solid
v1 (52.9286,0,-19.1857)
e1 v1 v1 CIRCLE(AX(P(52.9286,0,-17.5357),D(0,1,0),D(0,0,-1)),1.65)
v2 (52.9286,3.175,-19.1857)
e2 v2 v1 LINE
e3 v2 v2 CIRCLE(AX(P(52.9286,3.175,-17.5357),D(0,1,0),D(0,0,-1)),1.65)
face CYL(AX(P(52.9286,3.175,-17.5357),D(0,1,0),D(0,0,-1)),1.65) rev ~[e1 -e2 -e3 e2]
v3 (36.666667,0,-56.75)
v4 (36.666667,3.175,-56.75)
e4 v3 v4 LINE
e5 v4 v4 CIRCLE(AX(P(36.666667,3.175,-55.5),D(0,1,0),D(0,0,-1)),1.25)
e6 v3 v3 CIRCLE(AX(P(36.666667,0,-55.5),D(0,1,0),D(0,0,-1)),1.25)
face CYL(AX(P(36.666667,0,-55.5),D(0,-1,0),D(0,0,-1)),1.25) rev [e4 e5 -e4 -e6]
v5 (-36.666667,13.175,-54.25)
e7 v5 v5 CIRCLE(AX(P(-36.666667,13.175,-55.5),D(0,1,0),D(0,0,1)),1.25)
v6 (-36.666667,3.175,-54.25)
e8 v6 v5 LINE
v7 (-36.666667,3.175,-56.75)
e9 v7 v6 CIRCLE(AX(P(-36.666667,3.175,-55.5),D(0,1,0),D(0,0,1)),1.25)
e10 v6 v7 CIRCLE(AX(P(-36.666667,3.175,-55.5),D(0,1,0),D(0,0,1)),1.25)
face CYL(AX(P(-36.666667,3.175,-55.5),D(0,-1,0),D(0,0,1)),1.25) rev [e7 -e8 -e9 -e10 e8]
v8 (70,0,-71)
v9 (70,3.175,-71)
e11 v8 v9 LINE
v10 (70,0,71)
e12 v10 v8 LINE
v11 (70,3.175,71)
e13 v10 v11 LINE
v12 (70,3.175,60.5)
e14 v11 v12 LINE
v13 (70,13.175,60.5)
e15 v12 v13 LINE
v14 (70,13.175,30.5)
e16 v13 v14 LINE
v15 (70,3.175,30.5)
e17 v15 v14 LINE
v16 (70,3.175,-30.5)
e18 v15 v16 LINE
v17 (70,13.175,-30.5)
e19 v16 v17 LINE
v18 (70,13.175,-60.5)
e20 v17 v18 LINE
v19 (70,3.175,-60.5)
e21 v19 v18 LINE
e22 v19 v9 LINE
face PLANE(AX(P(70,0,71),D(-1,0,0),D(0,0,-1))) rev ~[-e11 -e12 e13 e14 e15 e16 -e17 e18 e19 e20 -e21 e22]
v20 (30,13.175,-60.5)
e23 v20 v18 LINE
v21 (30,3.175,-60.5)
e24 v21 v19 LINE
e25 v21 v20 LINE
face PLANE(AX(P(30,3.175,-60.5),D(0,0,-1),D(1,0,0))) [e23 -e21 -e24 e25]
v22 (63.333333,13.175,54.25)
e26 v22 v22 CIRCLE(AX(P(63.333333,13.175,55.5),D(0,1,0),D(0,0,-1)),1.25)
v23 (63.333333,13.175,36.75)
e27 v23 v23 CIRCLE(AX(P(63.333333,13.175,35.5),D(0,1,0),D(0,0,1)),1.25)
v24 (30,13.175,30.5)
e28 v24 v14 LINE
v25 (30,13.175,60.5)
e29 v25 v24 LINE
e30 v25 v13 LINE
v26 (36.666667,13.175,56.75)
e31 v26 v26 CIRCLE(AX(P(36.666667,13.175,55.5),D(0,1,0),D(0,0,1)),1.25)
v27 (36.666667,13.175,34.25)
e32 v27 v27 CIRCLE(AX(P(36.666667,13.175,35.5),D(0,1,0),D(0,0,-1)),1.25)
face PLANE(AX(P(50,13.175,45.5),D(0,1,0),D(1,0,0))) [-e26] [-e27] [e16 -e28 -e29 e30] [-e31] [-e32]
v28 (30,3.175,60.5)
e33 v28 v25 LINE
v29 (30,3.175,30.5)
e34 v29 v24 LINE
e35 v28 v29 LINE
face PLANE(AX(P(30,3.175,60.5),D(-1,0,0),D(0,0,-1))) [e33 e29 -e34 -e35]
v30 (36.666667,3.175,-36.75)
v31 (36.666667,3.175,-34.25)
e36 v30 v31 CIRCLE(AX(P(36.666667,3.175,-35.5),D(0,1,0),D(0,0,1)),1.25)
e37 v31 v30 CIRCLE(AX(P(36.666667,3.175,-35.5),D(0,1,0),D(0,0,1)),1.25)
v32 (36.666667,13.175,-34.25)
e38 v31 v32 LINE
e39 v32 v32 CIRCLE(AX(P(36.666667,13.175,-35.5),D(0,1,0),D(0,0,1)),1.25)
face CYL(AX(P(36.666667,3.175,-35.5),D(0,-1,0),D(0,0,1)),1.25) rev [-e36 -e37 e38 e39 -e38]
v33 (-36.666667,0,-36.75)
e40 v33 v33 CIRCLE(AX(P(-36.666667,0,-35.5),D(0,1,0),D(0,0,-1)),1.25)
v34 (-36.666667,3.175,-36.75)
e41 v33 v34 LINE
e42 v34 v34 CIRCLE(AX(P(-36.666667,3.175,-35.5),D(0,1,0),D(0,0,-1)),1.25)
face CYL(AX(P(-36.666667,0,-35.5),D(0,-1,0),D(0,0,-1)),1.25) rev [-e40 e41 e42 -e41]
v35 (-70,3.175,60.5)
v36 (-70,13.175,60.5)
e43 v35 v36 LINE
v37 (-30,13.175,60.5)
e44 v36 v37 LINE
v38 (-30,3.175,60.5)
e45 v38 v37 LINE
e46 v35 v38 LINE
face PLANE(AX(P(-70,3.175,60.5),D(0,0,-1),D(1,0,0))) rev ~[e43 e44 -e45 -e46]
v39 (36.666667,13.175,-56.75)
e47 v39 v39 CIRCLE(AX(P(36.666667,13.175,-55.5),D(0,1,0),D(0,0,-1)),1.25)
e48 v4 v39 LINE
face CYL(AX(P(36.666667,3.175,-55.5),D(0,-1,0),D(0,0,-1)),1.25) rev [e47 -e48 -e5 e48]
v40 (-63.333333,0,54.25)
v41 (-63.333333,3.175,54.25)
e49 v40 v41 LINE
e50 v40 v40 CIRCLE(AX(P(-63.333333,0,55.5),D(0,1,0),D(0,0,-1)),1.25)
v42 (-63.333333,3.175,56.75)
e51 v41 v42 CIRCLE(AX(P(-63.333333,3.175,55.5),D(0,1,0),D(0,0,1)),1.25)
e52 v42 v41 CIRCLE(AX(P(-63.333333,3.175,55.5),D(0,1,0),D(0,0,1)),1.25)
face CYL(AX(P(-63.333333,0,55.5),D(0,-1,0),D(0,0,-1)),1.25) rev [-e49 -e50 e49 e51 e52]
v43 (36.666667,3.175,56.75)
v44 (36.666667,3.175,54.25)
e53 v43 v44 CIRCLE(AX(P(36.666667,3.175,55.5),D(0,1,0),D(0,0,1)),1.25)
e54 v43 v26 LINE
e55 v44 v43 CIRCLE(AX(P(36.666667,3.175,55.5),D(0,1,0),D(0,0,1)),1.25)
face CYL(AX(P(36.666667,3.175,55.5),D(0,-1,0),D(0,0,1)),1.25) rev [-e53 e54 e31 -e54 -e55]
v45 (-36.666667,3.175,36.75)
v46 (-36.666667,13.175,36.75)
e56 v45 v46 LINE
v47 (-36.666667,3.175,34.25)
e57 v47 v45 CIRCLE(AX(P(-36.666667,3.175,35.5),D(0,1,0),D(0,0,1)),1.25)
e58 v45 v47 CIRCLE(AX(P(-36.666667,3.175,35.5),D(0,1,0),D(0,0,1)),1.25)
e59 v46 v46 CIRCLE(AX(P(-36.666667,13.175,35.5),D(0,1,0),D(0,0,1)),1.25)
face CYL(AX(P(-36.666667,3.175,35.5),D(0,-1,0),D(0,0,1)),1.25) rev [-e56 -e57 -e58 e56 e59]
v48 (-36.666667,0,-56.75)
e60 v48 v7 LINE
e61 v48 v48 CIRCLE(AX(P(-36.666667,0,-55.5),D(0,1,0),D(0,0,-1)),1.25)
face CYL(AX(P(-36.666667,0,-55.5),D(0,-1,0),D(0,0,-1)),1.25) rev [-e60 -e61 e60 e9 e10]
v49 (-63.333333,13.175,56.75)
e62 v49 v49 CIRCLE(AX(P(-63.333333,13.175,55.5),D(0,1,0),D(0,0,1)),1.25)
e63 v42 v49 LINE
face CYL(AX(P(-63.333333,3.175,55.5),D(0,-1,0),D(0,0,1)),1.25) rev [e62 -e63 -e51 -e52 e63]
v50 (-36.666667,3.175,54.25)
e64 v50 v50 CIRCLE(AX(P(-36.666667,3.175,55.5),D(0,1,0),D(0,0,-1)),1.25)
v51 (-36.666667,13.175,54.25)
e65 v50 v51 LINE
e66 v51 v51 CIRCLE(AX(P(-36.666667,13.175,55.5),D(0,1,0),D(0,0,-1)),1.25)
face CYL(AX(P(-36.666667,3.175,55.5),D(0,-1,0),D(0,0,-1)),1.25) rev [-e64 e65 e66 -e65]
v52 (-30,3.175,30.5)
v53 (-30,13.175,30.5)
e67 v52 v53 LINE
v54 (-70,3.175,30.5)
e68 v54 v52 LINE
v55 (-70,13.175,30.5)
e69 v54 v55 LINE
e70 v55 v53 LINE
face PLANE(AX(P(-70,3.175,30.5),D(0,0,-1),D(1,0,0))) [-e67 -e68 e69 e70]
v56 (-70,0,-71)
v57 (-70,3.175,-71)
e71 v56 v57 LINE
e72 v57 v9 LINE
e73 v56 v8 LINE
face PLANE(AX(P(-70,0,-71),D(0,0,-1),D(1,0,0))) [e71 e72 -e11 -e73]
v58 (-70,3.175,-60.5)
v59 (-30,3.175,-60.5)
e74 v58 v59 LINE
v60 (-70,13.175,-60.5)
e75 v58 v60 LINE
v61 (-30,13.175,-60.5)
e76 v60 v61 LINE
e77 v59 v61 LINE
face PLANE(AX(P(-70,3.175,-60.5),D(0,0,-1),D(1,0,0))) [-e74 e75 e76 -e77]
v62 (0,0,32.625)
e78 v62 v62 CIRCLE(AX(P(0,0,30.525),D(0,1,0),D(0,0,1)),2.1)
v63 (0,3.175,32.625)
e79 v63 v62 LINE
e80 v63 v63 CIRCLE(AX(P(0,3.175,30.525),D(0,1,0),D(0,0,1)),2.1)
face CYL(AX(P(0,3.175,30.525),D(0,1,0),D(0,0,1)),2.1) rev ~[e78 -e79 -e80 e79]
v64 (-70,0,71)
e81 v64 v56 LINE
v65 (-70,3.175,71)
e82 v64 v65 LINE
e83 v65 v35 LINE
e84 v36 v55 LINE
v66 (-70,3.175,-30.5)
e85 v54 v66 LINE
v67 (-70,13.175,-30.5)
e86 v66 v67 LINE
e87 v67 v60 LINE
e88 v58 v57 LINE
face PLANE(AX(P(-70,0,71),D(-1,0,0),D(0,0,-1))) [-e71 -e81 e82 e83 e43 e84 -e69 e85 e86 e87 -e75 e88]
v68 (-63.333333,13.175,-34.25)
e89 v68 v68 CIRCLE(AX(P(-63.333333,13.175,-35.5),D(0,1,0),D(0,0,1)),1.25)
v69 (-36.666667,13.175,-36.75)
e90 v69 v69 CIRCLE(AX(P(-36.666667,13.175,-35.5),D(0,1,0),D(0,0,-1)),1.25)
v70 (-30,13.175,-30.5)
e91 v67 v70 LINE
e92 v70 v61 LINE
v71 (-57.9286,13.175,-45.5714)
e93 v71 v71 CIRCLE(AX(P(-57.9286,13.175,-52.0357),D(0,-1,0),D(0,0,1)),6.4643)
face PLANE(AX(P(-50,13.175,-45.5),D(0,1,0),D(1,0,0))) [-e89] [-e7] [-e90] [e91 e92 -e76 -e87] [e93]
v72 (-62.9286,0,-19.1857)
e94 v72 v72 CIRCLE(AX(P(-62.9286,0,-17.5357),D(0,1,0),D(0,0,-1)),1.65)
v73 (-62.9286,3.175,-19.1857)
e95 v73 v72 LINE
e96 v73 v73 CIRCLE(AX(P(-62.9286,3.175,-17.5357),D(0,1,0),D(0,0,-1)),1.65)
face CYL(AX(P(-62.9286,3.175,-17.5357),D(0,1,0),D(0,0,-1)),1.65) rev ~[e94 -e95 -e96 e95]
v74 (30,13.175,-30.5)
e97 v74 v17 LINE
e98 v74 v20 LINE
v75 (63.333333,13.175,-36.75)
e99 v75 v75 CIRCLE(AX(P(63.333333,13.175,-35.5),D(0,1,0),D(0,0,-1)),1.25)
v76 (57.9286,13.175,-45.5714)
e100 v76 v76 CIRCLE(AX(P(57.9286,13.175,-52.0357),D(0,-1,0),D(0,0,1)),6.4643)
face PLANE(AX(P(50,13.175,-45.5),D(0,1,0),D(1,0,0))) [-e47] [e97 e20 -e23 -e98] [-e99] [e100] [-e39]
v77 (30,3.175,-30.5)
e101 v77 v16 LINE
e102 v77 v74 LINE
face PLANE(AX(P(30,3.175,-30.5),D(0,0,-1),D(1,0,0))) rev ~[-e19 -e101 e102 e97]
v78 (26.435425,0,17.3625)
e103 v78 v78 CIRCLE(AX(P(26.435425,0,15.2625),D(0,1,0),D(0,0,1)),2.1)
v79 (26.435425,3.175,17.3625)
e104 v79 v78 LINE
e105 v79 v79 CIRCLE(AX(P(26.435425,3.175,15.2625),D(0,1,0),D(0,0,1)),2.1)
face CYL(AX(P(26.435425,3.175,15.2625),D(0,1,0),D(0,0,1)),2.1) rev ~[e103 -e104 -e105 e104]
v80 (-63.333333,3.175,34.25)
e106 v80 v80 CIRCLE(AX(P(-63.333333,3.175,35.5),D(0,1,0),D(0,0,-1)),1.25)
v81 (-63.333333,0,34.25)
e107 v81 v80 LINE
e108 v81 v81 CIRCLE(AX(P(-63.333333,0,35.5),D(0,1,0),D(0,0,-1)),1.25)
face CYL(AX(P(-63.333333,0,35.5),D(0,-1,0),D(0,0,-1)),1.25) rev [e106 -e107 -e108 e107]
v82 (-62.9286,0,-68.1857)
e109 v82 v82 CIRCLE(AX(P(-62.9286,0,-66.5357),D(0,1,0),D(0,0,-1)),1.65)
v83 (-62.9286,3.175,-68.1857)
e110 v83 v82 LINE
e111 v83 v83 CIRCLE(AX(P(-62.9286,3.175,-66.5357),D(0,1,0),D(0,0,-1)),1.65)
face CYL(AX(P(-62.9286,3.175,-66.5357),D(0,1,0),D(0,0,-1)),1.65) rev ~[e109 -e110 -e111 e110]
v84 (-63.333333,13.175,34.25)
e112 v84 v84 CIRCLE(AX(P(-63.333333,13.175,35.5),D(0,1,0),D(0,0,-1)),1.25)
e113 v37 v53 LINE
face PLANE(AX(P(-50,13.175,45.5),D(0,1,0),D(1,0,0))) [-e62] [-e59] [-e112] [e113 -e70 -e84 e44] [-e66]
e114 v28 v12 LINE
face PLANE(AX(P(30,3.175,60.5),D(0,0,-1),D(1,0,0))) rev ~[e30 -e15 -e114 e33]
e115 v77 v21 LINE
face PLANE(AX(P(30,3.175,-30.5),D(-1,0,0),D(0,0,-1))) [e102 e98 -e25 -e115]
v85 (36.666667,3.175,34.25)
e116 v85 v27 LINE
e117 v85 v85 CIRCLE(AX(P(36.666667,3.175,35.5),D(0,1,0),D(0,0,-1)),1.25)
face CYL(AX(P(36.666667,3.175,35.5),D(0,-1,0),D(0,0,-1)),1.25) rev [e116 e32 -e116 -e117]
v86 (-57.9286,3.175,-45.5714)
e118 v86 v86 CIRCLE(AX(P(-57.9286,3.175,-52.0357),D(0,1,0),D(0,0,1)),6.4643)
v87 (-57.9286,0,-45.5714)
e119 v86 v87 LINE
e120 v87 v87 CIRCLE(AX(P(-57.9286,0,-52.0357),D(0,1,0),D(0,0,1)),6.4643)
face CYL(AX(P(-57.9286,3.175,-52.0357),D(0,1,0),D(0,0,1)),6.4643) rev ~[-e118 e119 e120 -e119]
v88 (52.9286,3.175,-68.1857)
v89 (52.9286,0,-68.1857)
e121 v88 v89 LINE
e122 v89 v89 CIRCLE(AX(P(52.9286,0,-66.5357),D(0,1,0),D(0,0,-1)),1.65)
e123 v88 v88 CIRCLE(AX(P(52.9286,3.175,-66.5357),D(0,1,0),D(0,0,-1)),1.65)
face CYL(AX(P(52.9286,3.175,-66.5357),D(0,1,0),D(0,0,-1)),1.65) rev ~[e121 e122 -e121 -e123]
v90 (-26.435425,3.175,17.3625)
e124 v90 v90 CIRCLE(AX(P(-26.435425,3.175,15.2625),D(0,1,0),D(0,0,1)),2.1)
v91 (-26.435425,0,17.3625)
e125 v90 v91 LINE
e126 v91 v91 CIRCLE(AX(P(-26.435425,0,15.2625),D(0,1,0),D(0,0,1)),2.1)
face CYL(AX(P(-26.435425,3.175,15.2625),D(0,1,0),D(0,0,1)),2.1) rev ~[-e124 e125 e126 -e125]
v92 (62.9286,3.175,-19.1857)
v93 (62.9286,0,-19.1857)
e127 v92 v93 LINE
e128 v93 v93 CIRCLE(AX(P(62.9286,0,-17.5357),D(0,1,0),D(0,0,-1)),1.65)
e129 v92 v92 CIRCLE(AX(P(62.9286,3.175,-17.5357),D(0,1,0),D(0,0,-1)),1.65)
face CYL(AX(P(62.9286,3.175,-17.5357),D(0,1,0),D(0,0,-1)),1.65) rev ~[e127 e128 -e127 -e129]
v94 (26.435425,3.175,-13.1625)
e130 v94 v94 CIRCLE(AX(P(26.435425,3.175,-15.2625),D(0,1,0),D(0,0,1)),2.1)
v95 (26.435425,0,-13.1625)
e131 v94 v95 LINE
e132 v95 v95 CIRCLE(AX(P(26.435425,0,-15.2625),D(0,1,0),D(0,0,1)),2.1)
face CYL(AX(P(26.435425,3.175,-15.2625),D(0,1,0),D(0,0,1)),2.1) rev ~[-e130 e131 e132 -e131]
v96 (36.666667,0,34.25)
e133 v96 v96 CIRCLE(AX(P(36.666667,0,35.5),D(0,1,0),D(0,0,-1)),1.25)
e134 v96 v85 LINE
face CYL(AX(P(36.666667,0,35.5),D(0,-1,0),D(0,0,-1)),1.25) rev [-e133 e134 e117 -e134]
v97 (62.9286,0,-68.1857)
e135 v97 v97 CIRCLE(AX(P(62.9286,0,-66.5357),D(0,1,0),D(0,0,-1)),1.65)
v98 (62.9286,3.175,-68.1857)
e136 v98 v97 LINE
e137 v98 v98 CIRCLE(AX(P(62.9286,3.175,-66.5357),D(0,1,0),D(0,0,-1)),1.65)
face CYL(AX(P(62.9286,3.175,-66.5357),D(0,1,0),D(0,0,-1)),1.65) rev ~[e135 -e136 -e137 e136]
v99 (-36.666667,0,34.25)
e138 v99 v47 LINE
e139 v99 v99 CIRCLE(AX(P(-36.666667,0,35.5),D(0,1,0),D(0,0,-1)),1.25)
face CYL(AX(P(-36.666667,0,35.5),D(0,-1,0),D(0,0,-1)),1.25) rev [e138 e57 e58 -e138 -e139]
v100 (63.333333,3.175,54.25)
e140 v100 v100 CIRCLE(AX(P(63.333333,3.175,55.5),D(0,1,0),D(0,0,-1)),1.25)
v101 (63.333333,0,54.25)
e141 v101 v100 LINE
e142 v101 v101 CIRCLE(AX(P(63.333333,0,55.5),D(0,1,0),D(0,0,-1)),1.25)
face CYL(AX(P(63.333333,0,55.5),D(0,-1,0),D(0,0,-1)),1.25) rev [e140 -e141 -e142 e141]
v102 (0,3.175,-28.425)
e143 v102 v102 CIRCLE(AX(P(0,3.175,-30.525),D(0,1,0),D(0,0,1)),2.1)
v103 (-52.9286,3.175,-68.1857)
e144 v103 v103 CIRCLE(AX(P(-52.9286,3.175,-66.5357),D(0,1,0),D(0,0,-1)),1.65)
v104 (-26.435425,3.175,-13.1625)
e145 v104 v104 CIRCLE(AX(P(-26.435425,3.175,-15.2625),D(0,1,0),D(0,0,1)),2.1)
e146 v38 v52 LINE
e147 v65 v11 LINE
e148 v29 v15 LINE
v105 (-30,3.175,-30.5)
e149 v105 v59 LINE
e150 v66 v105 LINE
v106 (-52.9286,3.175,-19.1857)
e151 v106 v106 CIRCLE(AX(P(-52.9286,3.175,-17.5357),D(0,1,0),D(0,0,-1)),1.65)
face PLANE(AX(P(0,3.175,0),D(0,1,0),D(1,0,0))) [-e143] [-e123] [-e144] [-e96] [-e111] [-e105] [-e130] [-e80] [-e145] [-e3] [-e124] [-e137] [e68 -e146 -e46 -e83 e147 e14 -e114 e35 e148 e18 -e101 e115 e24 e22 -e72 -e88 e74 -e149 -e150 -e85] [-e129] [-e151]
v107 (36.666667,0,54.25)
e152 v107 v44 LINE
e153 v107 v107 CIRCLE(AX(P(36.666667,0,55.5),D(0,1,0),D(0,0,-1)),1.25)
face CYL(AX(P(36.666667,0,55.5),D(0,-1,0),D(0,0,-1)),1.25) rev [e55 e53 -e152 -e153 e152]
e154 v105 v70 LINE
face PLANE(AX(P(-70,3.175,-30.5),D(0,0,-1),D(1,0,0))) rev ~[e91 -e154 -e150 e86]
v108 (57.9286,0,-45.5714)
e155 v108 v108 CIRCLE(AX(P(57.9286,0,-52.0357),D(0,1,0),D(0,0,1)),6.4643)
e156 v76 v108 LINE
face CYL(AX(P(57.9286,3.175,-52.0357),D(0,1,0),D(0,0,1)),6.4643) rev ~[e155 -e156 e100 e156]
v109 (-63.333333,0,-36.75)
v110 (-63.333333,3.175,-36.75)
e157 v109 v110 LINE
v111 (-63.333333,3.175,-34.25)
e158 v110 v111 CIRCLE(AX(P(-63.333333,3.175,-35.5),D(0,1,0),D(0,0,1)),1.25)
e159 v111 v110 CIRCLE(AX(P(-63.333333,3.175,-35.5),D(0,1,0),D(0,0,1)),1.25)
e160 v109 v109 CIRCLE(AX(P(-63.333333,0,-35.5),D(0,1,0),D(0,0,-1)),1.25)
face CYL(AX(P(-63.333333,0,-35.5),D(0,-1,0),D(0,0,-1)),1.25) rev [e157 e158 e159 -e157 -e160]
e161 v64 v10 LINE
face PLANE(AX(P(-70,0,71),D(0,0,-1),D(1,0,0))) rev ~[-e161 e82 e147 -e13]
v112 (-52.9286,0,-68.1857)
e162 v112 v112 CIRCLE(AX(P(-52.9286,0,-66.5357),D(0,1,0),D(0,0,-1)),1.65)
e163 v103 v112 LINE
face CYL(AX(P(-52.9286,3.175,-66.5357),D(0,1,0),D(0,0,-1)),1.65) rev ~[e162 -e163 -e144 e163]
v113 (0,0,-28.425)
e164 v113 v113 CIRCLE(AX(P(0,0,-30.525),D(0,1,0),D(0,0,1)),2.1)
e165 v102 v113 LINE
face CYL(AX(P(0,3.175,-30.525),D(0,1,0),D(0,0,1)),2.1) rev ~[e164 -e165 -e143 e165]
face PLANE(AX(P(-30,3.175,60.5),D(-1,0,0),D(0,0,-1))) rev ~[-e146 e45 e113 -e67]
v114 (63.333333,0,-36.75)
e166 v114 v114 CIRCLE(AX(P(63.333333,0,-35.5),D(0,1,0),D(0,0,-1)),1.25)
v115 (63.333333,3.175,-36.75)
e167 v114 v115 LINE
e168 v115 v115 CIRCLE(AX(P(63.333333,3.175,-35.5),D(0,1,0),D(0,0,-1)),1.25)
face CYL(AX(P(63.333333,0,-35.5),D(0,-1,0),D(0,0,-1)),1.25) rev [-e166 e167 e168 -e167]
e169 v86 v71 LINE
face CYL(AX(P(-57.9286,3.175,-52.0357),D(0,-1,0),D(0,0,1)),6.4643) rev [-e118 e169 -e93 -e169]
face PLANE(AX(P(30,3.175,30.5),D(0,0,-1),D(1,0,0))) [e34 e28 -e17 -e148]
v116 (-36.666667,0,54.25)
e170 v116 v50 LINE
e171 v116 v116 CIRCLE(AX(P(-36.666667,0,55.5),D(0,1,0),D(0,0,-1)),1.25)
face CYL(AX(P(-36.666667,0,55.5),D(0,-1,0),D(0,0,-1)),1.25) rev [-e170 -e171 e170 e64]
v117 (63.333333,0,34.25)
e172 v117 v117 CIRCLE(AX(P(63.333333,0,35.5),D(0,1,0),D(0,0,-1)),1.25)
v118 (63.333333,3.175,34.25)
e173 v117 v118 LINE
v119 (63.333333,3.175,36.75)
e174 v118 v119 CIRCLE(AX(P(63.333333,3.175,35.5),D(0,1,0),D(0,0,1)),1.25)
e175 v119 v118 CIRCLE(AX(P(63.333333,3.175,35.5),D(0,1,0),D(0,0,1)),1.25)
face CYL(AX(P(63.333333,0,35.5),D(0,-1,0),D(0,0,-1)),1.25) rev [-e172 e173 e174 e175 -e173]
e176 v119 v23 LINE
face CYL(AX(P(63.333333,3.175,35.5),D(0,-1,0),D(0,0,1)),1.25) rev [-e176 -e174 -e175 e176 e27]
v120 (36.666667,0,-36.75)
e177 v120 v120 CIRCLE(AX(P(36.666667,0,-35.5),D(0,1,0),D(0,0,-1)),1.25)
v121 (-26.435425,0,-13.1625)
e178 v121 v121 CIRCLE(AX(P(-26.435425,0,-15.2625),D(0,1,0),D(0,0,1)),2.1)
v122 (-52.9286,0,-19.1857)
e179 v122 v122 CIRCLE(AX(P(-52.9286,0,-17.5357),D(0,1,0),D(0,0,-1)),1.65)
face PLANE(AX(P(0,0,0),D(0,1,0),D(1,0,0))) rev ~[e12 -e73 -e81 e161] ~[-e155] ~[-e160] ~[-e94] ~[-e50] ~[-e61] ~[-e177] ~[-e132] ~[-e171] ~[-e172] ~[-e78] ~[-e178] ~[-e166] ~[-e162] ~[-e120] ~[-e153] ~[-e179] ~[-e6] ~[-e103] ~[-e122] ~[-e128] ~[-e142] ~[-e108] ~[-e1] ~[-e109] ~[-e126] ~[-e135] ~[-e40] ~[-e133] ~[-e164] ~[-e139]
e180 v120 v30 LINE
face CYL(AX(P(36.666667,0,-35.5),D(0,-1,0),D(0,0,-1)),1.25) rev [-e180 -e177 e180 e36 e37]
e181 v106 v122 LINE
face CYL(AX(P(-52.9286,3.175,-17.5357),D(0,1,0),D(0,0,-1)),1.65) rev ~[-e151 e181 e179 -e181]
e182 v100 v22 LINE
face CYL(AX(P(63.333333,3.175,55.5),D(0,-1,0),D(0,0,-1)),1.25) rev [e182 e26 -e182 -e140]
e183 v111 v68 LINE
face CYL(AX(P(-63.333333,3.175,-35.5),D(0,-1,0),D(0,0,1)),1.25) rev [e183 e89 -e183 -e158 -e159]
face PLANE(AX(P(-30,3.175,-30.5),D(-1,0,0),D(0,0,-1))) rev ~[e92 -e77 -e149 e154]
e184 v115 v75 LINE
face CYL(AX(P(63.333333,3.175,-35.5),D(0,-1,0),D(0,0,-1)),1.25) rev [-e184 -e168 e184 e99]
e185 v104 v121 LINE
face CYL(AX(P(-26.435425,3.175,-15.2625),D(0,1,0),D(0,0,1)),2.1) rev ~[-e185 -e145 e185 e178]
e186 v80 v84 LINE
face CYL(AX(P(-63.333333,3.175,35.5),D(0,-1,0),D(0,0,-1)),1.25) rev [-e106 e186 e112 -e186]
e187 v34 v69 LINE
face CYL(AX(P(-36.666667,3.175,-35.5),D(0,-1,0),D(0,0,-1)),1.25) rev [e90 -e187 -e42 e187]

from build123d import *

# Parameters (mm, degrees)
SKETCH1_W                      = 140
SKETCH1_H                      = 142
BOSS_EXTRUDE1_DEPTH            = 3.175
SKETCH2_W                      = 40
SKETCH2_H                      = 30
SKETCH2_R                      = 1.25
BOSS_EXTRUDE2_DEPTH            = 10
CUT_EXTRUDE1_REACH             = 102.205
SKETCH4_R                      = 6.4643
SKETCH4_R_2                    = 1.65
CUT_EXTRUDE1_DIRECTION_2_REACH = 102.205
SKETCH5_R                      = 2.1
CUT_EXTRUDE2_DEPTH             = 3.175
CUT_EXTRUDE3_START             = -3.175
SKETCH6_R                      = 1.25
CUT_EXTRUDE3_DEPTH             = 3.175


with BuildPart() as part:
    # Sketch1 → Boss-Extrude1 (new body)
    with BuildSketch(Plane(origin=(0, 0, 0), x_dir=(1, 0, 0), z_dir=(0, 1, 0))):
        Rectangle(SKETCH1_W, SKETCH1_H)
    extrude(amount=BOSS_EXTRUDE1_DEPTH)

    # Sketch2 → Boss-Extrude2 (add)
    # profile 1 of 4: a face of its own
    with BuildSketch(Plane(origin=(0, 3.175, 0), x_dir=(1, 0, 0), z_dir=(0, 1, 0))):
        with Locations((-50, 45.5)):
            Rectangle(SKETCH2_W, SKETCH2_H)
        with Locations(Location((-36.666666667, 55.5, 0), (0, 0, 270))):
            Circle(SKETCH2_R, mode=Mode.SUBTRACT)
        with Locations(Location((-36.666666667, 35.5, 0), (0, 0, 90))):
            Circle(SKETCH2_R, mode=Mode.SUBTRACT)
        with Locations(Location((-63.333333333, 35.5, 0), (0, 0, 270))):
            Circle(SKETCH2_R, mode=Mode.SUBTRACT)
    # profile 2 of 4: a face of its own
    with BuildSketch(Plane(origin=(0, 3.175, 0), x_dir=(1, 0, 0), z_dir=(0, 1, 0))):
        with Locations((50, 45.5)):
            Rectangle(SKETCH2_W, SKETCH2_H)
        with Locations(Location((36.666666667, 35.5, 0), (0, 0, 270))):
            Circle(SKETCH2_R, mode=Mode.SUBTRACT)
        with Locations(Location((63.333333333, 35.5, 0), (0, 0, 90))):
            Circle(SKETCH2_R, mode=Mode.SUBTRACT)
        with Locations(Location((36.666666667, 55.5, 0), (0, 0, 90))):
            Circle(SKETCH2_R, mode=Mode.SUBTRACT)
    # profile 3 of 4: a face of its own
    with BuildSketch(Plane(origin=(0, 3.175, 0), x_dir=(1, 0, 0), z_dir=(0, 1, 0))):
        with Locations((50, -45.5)):
            Rectangle(SKETCH2_W, SKETCH2_H)
        with Locations(Location((63.333333333, -35.5, 0), (0, 0, 270))):
            Circle(SKETCH2_R, mode=Mode.SUBTRACT)
        with Locations(Location((63.333333333, -55.5, 0), (0, 0, 90))):
            Circle(SKETCH2_R, mode=Mode.SUBTRACT)
        with Locations(Location((36.666666667, -55.5, 0), (0, 0, 270))):
            Circle(SKETCH2_R, mode=Mode.SUBTRACT)
        with Locations(Location((36.666666667, -35.5, 0), (0, 0, 90))):
            Circle(SKETCH2_R, mode=Mode.SUBTRACT)
    # profile 4 of 4: a face of its own
    with BuildSketch(Plane(origin=(0, 3.175, 0), x_dir=(1, 0, 0), z_dir=(0, 1, 0))):
        with Locations((-50, -45.5)):
            Rectangle(SKETCH2_W, SKETCH2_H)
        with Locations(Location((-36.666666667, -35.5, 0), (0, 0, 270))):
            Circle(SKETCH2_R, mode=Mode.SUBTRACT)
        with Locations(Location((-63.333333333, -35.5, 0), (0, 0, 90))):
            Circle(SKETCH2_R, mode=Mode.SUBTRACT)
        with Locations(Location((-36.666666667, -55.5, 0), (0, 0, 90))):
            Circle(SKETCH2_R, mode=Mode.SUBTRACT)
        with Locations(Location((-63.333333333, -55.5, 0), (0, 0, 270))):
            Circle(SKETCH2_R, mode=Mode.SUBTRACT)
    extrude(amount=BOSS_EXTRUDE2_DEPTH)

    # Cut-Extrude1: up to this face of the body (flat: up to its plane)
    cut_extrude1_end = Plane(part.part.faces().sort_by_distance((0, 0, 0))[0])
    # Sketch4 → Cut-Extrude1 (cut, up to the picked face)
    with BuildSketch(Plane(origin=(0, 3.175, 0), x_dir=(1, 0, 0), z_dir=(0, 1, 0)), mode=Mode.PRIVATE) as cut_extrude1_sk1:
        with Locations(Location((57.9286, 52.0357, 0), (0, 0, 270))):
            Circle(SKETCH4_R)
    cut_extrude1_tool1 = split(extrude(cut_extrude1_sk1.sketch, amount=-CUT_EXTRUDE1_REACH, mode=Mode.PRIVATE), bisect_by=cut_extrude1_end, keep=Keep.BOTH, mode=Mode.PRIVATE)
    # Sketch4 → Cut-Extrude1 (cut, up to the picked face)
    with BuildSketch(Plane(origin=(0, 3.175, 0), x_dir=(1, 0, 0), z_dir=(0, 1, 0)), mode=Mode.PRIVATE) as cut_extrude1_sk2:
        with Locations(Location((62.9286, 17.5357, 0), (0, 0, 90))):
            Circle(SKETCH4_R_2)
    cut_extrude1_tool2 = split(extrude(cut_extrude1_sk2.sketch, amount=-CUT_EXTRUDE1_REACH, mode=Mode.PRIVATE), bisect_by=cut_extrude1_end, keep=Keep.BOTH, mode=Mode.PRIVATE)
    # Sketch4 → Cut-Extrude1 (cut, up to the picked face)
    with BuildSketch(Plane(origin=(0, 3.175, 0), x_dir=(1, 0, 0), z_dir=(0, 1, 0)), mode=Mode.PRIVATE) as cut_extrude1_sk3:
        with Locations(Location((-62.9286, 66.5357, 0), (0, 0, 90))):
            Circle(SKETCH4_R_2)
    cut_extrude1_tool3 = split(extrude(cut_extrude1_sk3.sketch, amount=-CUT_EXTRUDE1_REACH, mode=Mode.PRIVATE), bisect_by=cut_extrude1_end, keep=Keep.BOTH, mode=Mode.PRIVATE)
    # Sketch4 → Cut-Extrude1 (cut, up to the picked face)
    with BuildSketch(Plane(origin=(0, 3.175, 0), x_dir=(1, 0, 0), z_dir=(0, 1, 0)), mode=Mode.PRIVATE) as cut_extrude1_sk4:
        with Locations(Location((-52.9286, 66.5357, 0), (0, 0, 90))):
            Circle(SKETCH4_R_2)
    cut_extrude1_tool4 = split(extrude(cut_extrude1_sk4.sketch, amount=-CUT_EXTRUDE1_REACH, mode=Mode.PRIVATE), bisect_by=cut_extrude1_end, keep=Keep.BOTH, mode=Mode.PRIVATE)
    # Sketch4 → Cut-Extrude1 (cut, up to the picked face)
    with BuildSketch(Plane(origin=(0, 3.175, 0), x_dir=(1, 0, 0), z_dir=(0, 1, 0)), mode=Mode.PRIVATE) as cut_extrude1_sk5:
        with Locations(Location((-57.9286, 52.0357, 0), (0, 0, 270))):
            Circle(SKETCH4_R)
    cut_extrude1_tool5 = split(extrude(cut_extrude1_sk5.sketch, amount=-CUT_EXTRUDE1_REACH, mode=Mode.PRIVATE), bisect_by=cut_extrude1_end, keep=Keep.BOTH, mode=Mode.PRIVATE)
    # Sketch4 → Cut-Extrude1 (cut, up to the picked face)
    with BuildSketch(Plane(origin=(0, 3.175, 0), x_dir=(1, 0, 0), z_dir=(0, 1, 0)), mode=Mode.PRIVATE) as cut_extrude1_sk6:
        with Locations(Location((-62.9286, 17.5357, 0), (0, 0, 90))):
            Circle(SKETCH4_R_2)
    cut_extrude1_tool6 = split(extrude(cut_extrude1_sk6.sketch, amount=-CUT_EXTRUDE1_REACH, mode=Mode.PRIVATE), bisect_by=cut_extrude1_end, keep=Keep.BOTH, mode=Mode.PRIVATE)
    # Sketch4 → Cut-Extrude1 (cut, up to the picked face)
    with BuildSketch(Plane(origin=(0, 3.175, 0), x_dir=(1, 0, 0), z_dir=(0, 1, 0)), mode=Mode.PRIVATE) as cut_extrude1_sk7:
        with Locations(Location((-52.9286, 17.5357, 0), (0, 0, 90))):
            Circle(SKETCH4_R_2)
    cut_extrude1_tool7 = split(extrude(cut_extrude1_sk7.sketch, amount=-CUT_EXTRUDE1_REACH, mode=Mode.PRIVATE), bisect_by=cut_extrude1_end, keep=Keep.BOTH, mode=Mode.PRIVATE)
    # Sketch4 → Cut-Extrude1 (cut, up to the picked face)
    with BuildSketch(Plane(origin=(0, 3.175, 0), x_dir=(1, 0, 0), z_dir=(0, 1, 0)), mode=Mode.PRIVATE) as cut_extrude1_sk8:
        with Locations(Location((52.9286, 66.5357, 0), (0, 0, 90))):
            Circle(SKETCH4_R_2)
    cut_extrude1_tool8 = split(extrude(cut_extrude1_sk8.sketch, amount=-CUT_EXTRUDE1_REACH, mode=Mode.PRIVATE), bisect_by=cut_extrude1_end, keep=Keep.BOTH, mode=Mode.PRIVATE)
    # Sketch4 → Cut-Extrude1 (cut, up to the picked face)
    with BuildSketch(Plane(origin=(0, 3.175, 0), x_dir=(1, 0, 0), z_dir=(0, 1, 0)), mode=Mode.PRIVATE) as cut_extrude1_sk9:
        with Locations(Location((62.9286, 66.5357, 0), (0, 0, 90))):
            Circle(SKETCH4_R_2)
    cut_extrude1_tool9 = split(extrude(cut_extrude1_sk9.sketch, amount=-CUT_EXTRUDE1_REACH, mode=Mode.PRIVATE), bisect_by=cut_extrude1_end, keep=Keep.BOTH, mode=Mode.PRIVATE)
    # Sketch4 → Cut-Extrude1 (cut, up to the picked face)
    with BuildSketch(Plane(origin=(0, 3.175, 0), x_dir=(1, 0, 0), z_dir=(0, 1, 0)), mode=Mode.PRIVATE) as cut_extrude1_sk10:
        with Locations(Location((52.9286, 17.5357, 0), (0, 0, 90))):
            Circle(SKETCH4_R_2)
    cut_extrude1_tool10 = split(extrude(cut_extrude1_sk10.sketch, amount=-CUT_EXTRUDE1_REACH, mode=Mode.PRIVATE), bisect_by=cut_extrude1_end, keep=Keep.BOTH, mode=Mode.PRIVATE)
    add(cut_extrude1_tool1.solids().sort_by(Axis((57.9286, 3.175, -52.0357), (0, -1, 0)))[0], mode=Mode.SUBTRACT)
    add(cut_extrude1_tool2.solids().sort_by(Axis((62.9286, 3.175, -17.5357), (0, -1, 0)))[0], mode=Mode.SUBTRACT)
    add(cut_extrude1_tool3.solids().sort_by(Axis((-62.9286, 3.175, -66.5357), (0, -1, 0)))[0], mode=Mode.SUBTRACT)
    add(cut_extrude1_tool4.solids().sort_by(Axis((-52.9286, 3.175, -66.5357), (0, -1, 0)))[0], mode=Mode.SUBTRACT)
    add(cut_extrude1_tool5.solids().sort_by(Axis((-57.9286, 3.175, -52.0357), (0, -1, 0)))[0], mode=Mode.SUBTRACT)
    add(cut_extrude1_tool6.solids().sort_by(Axis((-62.9286, 3.175, -17.5357), (0, -1, 0)))[0], mode=Mode.SUBTRACT)
    add(cut_extrude1_tool7.solids().sort_by(Axis((-52.9286, 3.175, -17.5357), (0, -1, 0)))[0], mode=Mode.SUBTRACT)
    add(cut_extrude1_tool8.solids().sort_by(Axis((52.9286, 3.175, -66.5357), (0, -1, 0)))[0], mode=Mode.SUBTRACT)
    add(cut_extrude1_tool9.solids().sort_by(Axis((62.9286, 3.175, -66.5357), (0, -1, 0)))[0], mode=Mode.SUBTRACT)
    add(cut_extrude1_tool10.solids().sort_by(Axis((52.9286, 3.175, -17.5357), (0, -1, 0)))[0], mode=Mode.SUBTRACT)

    # Cut-Extrude1 direction 2: up to this face of the body (flat: up to its plane)
    cut_extrude1_direction_2_end = Plane(part.part.faces().sort_by_distance((50.05521918, 13.175, -45.541414385))[0])
    # Sketch4 → Cut-Extrude1 direction 2 (cut, up to the picked face)
    with BuildSketch(Plane(origin=(0, 3.175, 0), x_dir=(1, 0, 0), z_dir=(0, 1, 0)), mode=Mode.PRIVATE) as cut_extrude1_direction_2_sk1:
        with Locations(Location((57.9286, 52.0357, 0), (0, 0, 270))):
            Circle(SKETCH4_R)
    cut_extrude1_direction_2_tool1 = split(extrude(cut_extrude1_direction_2_sk1.sketch, amount=CUT_EXTRUDE1_DIRECTION_2_REACH, mode=Mode.PRIVATE), bisect_by=cut_extrude1_direction_2_end, keep=Keep.BOTH, mode=Mode.PRIVATE)
    # Sketch4 → Cut-Extrude1 direction 2 (cut, up to the picked face)
    with BuildSketch(Plane(origin=(0, 3.175, 0), x_dir=(1, 0, 0), z_dir=(0, 1, 0)), mode=Mode.PRIVATE) as cut_extrude1_direction_2_sk2:
        with Locations(Location((62.9286, 17.5357, 0), (0, 0, 90))):
            Circle(SKETCH4_R_2)
    cut_extrude1_direction_2_tool2 = split(extrude(cut_extrude1_direction_2_sk2.sketch, amount=CUT_EXTRUDE1_DIRECTION_2_REACH, mode=Mode.PRIVATE), bisect_by=cut_extrude1_direction_2_end, keep=Keep.BOTH, mode=Mode.PRIVATE)
    # Sketch4 → Cut-Extrude1 direction 2 (cut, up to the picked face)
    with BuildSketch(Plane(origin=(0, 3.175, 0), x_dir=(1, 0, 0), z_dir=(0, 1, 0)), mode=Mode.PRIVATE) as cut_extrude1_direction_2_sk3:
        with Locations(Location((-62.9286, 66.5357, 0), (0, 0, 90))):
            Circle(SKETCH4_R_2)
    cut_extrude1_direction_2_tool3 = split(extrude(cut_extrude1_direction_2_sk3.sketch, amount=CUT_EXTRUDE1_DIRECTION_2_REACH, mode=Mode.PRIVATE), bisect_by=cut_extrude1_direction_2_end, keep=Keep.BOTH, mode=Mode.PRIVATE)
    # Sketch4 → Cut-Extrude1 direction 2 (cut, up to the picked face)
    with BuildSketch(Plane(origin=(0, 3.175, 0), x_dir=(1, 0, 0), z_dir=(0, 1, 0)), mode=Mode.PRIVATE) as cut_extrude1_direction_2_sk4:
        with Locations(Location((-52.9286, 66.5357, 0), (0, 0, 90))):
            Circle(SKETCH4_R_2)
    cut_extrude1_direction_2_tool4 = split(extrude(cut_extrude1_direction_2_sk4.sketch, amount=CUT_EXTRUDE1_DIRECTION_2_REACH, mode=Mode.PRIVATE), bisect_by=cut_extrude1_direction_2_end, keep=Keep.BOTH, mode=Mode.PRIVATE)
    # Sketch4 → Cut-Extrude1 direction 2 (cut, up to the picked face)
    with BuildSketch(Plane(origin=(0, 3.175, 0), x_dir=(1, 0, 0), z_dir=(0, 1, 0)), mode=Mode.PRIVATE) as cut_extrude1_direction_2_sk5:
        with Locations(Location((-57.9286, 52.0357, 0), (0, 0, 270))):
            Circle(SKETCH4_R)
    cut_extrude1_direction_2_tool5 = split(extrude(cut_extrude1_direction_2_sk5.sketch, amount=CUT_EXTRUDE1_DIRECTION_2_REACH, mode=Mode.PRIVATE), bisect_by=cut_extrude1_direction_2_end, keep=Keep.BOTH, mode=Mode.PRIVATE)
    # Sketch4 → Cut-Extrude1 direction 2 (cut, up to the picked face)
    with BuildSketch(Plane(origin=(0, 3.175, 0), x_dir=(1, 0, 0), z_dir=(0, 1, 0)), mode=Mode.PRIVATE) as cut_extrude1_direction_2_sk6:
        with Locations(Location((-62.9286, 17.5357, 0), (0, 0, 90))):
            Circle(SKETCH4_R_2)
    cut_extrude1_direction_2_tool6 = split(extrude(cut_extrude1_direction_2_sk6.sketch, amount=CUT_EXTRUDE1_DIRECTION_2_REACH, mode=Mode.PRIVATE), bisect_by=cut_extrude1_direction_2_end, keep=Keep.BOTH, mode=Mode.PRIVATE)
    # Sketch4 → Cut-Extrude1 direction 2 (cut, up to the picked face)
    with BuildSketch(Plane(origin=(0, 3.175, 0), x_dir=(1, 0, 0), z_dir=(0, 1, 0)), mode=Mode.PRIVATE) as cut_extrude1_direction_2_sk7:
        with Locations(Location((-52.9286, 17.5357, 0), (0, 0, 90))):
            Circle(SKETCH4_R_2)
    cut_extrude1_direction_2_tool7 = split(extrude(cut_extrude1_direction_2_sk7.sketch, amount=CUT_EXTRUDE1_DIRECTION_2_REACH, mode=Mode.PRIVATE), bisect_by=cut_extrude1_direction_2_end, keep=Keep.BOTH, mode=Mode.PRIVATE)
    # Sketch4 → Cut-Extrude1 direction 2 (cut, up to the picked face)
    with BuildSketch(Plane(origin=(0, 3.175, 0), x_dir=(1, 0, 0), z_dir=(0, 1, 0)), mode=Mode.PRIVATE) as cut_extrude1_direction_2_sk8:
        with Locations(Location((52.9286, 66.5357, 0), (0, 0, 90))):
            Circle(SKETCH4_R_2)
    cut_extrude1_direction_2_tool8 = split(extrude(cut_extrude1_direction_2_sk8.sketch, amount=CUT_EXTRUDE1_DIRECTION_2_REACH, mode=Mode.PRIVATE), bisect_by=cut_extrude1_direction_2_end, keep=Keep.BOTH, mode=Mode.PRIVATE)
    # Sketch4 → Cut-Extrude1 direction 2 (cut, up to the picked face)
    with BuildSketch(Plane(origin=(0, 3.175, 0), x_dir=(1, 0, 0), z_dir=(0, 1, 0)), mode=Mode.PRIVATE) as cut_extrude1_direction_2_sk9:
        with Locations(Location((62.9286, 66.5357, 0), (0, 0, 90))):
            Circle(SKETCH4_R_2)
    cut_extrude1_direction_2_tool9 = split(extrude(cut_extrude1_direction_2_sk9.sketch, amount=CUT_EXTRUDE1_DIRECTION_2_REACH, mode=Mode.PRIVATE), bisect_by=cut_extrude1_direction_2_end, keep=Keep.BOTH, mode=Mode.PRIVATE)
    # Sketch4 → Cut-Extrude1 direction 2 (cut, up to the picked face)
    with BuildSketch(Plane(origin=(0, 3.175, 0), x_dir=(1, 0, 0), z_dir=(0, 1, 0)), mode=Mode.PRIVATE) as cut_extrude1_direction_2_sk10:
        with Locations(Location((52.9286, 17.5357, 0), (0, 0, 90))):
            Circle(SKETCH4_R_2)
    cut_extrude1_direction_2_tool10 = split(extrude(cut_extrude1_direction_2_sk10.sketch, amount=CUT_EXTRUDE1_DIRECTION_2_REACH, mode=Mode.PRIVATE), bisect_by=cut_extrude1_direction_2_end, keep=Keep.BOTH, mode=Mode.PRIVATE)
    add(cut_extrude1_direction_2_tool1.solids().sort_by(Axis((57.9286, 3.175, -52.0357), (0, 1, 0)))[0], mode=Mode.SUBTRACT)
    add(cut_extrude1_direction_2_tool2.solids().sort_by(Axis((62.9286, 3.175, -17.5357), (0, 1, 0)))[0], mode=Mode.SUBTRACT)
    add(cut_extrude1_direction_2_tool3.solids().sort_by(Axis((-62.9286, 3.175, -66.5357), (0, 1, 0)))[0], mode=Mode.SUBTRACT)
    add(cut_extrude1_direction_2_tool4.solids().sort_by(Axis((-52.9286, 3.175, -66.5357), (0, 1, 0)))[0], mode=Mode.SUBTRACT)
    add(cut_extrude1_direction_2_tool5.solids().sort_by(Axis((-57.9286, 3.175, -52.0357), (0, 1, 0)))[0], mode=Mode.SUBTRACT)
    add(cut_extrude1_direction_2_tool6.solids().sort_by(Axis((-62.9286, 3.175, -17.5357), (0, 1, 0)))[0], mode=Mode.SUBTRACT)
    add(cut_extrude1_direction_2_tool7.solids().sort_by(Axis((-52.9286, 3.175, -17.5357), (0, 1, 0)))[0], mode=Mode.SUBTRACT)
    add(cut_extrude1_direction_2_tool8.solids().sort_by(Axis((52.9286, 3.175, -66.5357), (0, 1, 0)))[0], mode=Mode.SUBTRACT)
    add(cut_extrude1_direction_2_tool9.solids().sort_by(Axis((62.9286, 3.175, -66.5357), (0, 1, 0)))[0], mode=Mode.SUBTRACT)
    add(cut_extrude1_direction_2_tool10.solids().sort_by(Axis((52.9286, 3.175, -17.5357), (0, 1, 0)))[0], mode=Mode.SUBTRACT)

    # Sketch5 → Cut-Extrude2 (cut)
    with BuildSketch(Plane(origin=(0, 3.175, 0), x_dir=(1, 0, 0), z_dir=(0, 1, 0))):
        with Locations(Location((0, 30.525, 0), (0, 0, 270))):
            Circle(SKETCH5_R)
        with Locations(Location((26.435425451, 15.2625, 0), (0, 0, 270))):
            Circle(SKETCH5_R)
        with Locations(Location((26.435425451, -15.2625, 0), (0, 0, 270))):
            Circle(SKETCH5_R)
        with Locations(Location((0, -30.525, 0), (0, 0, 270))):
            Circle(SKETCH5_R)
        with Locations(Location((-26.435425451, -15.2625, 0), (0, 0, 270))):
            Circle(SKETCH5_R)
        with Locations(Location((-26.435425451, 15.2625, 0), (0, 0, 270))):
            Circle(SKETCH5_R)
    extrude(amount=-CUT_EXTRUDE2_DEPTH, mode=Mode.SUBTRACT)

    # Sketch6 → Cut-Extrude3 (cut)
    with BuildSketch(Plane(origin=(0, 3.175, 0), x_dir=(1, 0, 0), z_dir=(0, 1, 0)).offset(CUT_EXTRUDE3_START)):
        with Locations(Location((-36.666666667, 35.5, 0), (0, 0, 90))):
            Circle(SKETCH6_R)
        with Locations(Location((-63.333333333, 35.5, 0), (0, 0, 90))):
            Circle(SKETCH6_R)
        with Locations(Location((-36.666666667, 55.5, 0), (0, 0, 90))):
            Circle(SKETCH6_R)
        with Locations(Location((36.666666667, 55.5, 0), (0, 0, 90))):
            Circle(SKETCH6_R)
        with Locations(Location((36.666666667, 35.5, 0), (0, 0, 90))):
            Circle(SKETCH6_R)
        with Locations(Location((63.333333333, 35.5, 0), (0, 0, 90))):
            Circle(SKETCH6_R)
        with Locations(Location((63.333333333, -55.5, 0), (0, 0, 90))):
            Circle(SKETCH6_R)
        with Locations(Location((63.333333333, -35.5, 0), (0, 0, 90))):
            Circle(SKETCH6_R)
        with Locations(Location((36.666666667, -35.5, 0), (0, 0, 90))):
            Circle(SKETCH6_R)
        with Locations(Location((36.666666667, -55.5, 0), (0, 0, 90))):
            Circle(SKETCH6_R)
        with Locations(Location((-36.666666667, -55.5, 0), (0, 0, 90))):
            Circle(SKETCH6_R)
        with Locations(Location((-63.333333333, -55.5, 0), (0, 0, 90))):
            Circle(SKETCH6_R)
        with Locations(Location((-63.333333333, -35.5, 0), (0, 0, 90))):
            Circle(SKETCH6_R)
        with Locations(Location((-36.666666667, -35.5, 0), (0, 0, 90))):
            Circle(SKETCH6_R)
    extrude(amount=CUT_EXTRUDE3_DEPTH, mode=Mode.SUBTRACT)


solid = part.part
